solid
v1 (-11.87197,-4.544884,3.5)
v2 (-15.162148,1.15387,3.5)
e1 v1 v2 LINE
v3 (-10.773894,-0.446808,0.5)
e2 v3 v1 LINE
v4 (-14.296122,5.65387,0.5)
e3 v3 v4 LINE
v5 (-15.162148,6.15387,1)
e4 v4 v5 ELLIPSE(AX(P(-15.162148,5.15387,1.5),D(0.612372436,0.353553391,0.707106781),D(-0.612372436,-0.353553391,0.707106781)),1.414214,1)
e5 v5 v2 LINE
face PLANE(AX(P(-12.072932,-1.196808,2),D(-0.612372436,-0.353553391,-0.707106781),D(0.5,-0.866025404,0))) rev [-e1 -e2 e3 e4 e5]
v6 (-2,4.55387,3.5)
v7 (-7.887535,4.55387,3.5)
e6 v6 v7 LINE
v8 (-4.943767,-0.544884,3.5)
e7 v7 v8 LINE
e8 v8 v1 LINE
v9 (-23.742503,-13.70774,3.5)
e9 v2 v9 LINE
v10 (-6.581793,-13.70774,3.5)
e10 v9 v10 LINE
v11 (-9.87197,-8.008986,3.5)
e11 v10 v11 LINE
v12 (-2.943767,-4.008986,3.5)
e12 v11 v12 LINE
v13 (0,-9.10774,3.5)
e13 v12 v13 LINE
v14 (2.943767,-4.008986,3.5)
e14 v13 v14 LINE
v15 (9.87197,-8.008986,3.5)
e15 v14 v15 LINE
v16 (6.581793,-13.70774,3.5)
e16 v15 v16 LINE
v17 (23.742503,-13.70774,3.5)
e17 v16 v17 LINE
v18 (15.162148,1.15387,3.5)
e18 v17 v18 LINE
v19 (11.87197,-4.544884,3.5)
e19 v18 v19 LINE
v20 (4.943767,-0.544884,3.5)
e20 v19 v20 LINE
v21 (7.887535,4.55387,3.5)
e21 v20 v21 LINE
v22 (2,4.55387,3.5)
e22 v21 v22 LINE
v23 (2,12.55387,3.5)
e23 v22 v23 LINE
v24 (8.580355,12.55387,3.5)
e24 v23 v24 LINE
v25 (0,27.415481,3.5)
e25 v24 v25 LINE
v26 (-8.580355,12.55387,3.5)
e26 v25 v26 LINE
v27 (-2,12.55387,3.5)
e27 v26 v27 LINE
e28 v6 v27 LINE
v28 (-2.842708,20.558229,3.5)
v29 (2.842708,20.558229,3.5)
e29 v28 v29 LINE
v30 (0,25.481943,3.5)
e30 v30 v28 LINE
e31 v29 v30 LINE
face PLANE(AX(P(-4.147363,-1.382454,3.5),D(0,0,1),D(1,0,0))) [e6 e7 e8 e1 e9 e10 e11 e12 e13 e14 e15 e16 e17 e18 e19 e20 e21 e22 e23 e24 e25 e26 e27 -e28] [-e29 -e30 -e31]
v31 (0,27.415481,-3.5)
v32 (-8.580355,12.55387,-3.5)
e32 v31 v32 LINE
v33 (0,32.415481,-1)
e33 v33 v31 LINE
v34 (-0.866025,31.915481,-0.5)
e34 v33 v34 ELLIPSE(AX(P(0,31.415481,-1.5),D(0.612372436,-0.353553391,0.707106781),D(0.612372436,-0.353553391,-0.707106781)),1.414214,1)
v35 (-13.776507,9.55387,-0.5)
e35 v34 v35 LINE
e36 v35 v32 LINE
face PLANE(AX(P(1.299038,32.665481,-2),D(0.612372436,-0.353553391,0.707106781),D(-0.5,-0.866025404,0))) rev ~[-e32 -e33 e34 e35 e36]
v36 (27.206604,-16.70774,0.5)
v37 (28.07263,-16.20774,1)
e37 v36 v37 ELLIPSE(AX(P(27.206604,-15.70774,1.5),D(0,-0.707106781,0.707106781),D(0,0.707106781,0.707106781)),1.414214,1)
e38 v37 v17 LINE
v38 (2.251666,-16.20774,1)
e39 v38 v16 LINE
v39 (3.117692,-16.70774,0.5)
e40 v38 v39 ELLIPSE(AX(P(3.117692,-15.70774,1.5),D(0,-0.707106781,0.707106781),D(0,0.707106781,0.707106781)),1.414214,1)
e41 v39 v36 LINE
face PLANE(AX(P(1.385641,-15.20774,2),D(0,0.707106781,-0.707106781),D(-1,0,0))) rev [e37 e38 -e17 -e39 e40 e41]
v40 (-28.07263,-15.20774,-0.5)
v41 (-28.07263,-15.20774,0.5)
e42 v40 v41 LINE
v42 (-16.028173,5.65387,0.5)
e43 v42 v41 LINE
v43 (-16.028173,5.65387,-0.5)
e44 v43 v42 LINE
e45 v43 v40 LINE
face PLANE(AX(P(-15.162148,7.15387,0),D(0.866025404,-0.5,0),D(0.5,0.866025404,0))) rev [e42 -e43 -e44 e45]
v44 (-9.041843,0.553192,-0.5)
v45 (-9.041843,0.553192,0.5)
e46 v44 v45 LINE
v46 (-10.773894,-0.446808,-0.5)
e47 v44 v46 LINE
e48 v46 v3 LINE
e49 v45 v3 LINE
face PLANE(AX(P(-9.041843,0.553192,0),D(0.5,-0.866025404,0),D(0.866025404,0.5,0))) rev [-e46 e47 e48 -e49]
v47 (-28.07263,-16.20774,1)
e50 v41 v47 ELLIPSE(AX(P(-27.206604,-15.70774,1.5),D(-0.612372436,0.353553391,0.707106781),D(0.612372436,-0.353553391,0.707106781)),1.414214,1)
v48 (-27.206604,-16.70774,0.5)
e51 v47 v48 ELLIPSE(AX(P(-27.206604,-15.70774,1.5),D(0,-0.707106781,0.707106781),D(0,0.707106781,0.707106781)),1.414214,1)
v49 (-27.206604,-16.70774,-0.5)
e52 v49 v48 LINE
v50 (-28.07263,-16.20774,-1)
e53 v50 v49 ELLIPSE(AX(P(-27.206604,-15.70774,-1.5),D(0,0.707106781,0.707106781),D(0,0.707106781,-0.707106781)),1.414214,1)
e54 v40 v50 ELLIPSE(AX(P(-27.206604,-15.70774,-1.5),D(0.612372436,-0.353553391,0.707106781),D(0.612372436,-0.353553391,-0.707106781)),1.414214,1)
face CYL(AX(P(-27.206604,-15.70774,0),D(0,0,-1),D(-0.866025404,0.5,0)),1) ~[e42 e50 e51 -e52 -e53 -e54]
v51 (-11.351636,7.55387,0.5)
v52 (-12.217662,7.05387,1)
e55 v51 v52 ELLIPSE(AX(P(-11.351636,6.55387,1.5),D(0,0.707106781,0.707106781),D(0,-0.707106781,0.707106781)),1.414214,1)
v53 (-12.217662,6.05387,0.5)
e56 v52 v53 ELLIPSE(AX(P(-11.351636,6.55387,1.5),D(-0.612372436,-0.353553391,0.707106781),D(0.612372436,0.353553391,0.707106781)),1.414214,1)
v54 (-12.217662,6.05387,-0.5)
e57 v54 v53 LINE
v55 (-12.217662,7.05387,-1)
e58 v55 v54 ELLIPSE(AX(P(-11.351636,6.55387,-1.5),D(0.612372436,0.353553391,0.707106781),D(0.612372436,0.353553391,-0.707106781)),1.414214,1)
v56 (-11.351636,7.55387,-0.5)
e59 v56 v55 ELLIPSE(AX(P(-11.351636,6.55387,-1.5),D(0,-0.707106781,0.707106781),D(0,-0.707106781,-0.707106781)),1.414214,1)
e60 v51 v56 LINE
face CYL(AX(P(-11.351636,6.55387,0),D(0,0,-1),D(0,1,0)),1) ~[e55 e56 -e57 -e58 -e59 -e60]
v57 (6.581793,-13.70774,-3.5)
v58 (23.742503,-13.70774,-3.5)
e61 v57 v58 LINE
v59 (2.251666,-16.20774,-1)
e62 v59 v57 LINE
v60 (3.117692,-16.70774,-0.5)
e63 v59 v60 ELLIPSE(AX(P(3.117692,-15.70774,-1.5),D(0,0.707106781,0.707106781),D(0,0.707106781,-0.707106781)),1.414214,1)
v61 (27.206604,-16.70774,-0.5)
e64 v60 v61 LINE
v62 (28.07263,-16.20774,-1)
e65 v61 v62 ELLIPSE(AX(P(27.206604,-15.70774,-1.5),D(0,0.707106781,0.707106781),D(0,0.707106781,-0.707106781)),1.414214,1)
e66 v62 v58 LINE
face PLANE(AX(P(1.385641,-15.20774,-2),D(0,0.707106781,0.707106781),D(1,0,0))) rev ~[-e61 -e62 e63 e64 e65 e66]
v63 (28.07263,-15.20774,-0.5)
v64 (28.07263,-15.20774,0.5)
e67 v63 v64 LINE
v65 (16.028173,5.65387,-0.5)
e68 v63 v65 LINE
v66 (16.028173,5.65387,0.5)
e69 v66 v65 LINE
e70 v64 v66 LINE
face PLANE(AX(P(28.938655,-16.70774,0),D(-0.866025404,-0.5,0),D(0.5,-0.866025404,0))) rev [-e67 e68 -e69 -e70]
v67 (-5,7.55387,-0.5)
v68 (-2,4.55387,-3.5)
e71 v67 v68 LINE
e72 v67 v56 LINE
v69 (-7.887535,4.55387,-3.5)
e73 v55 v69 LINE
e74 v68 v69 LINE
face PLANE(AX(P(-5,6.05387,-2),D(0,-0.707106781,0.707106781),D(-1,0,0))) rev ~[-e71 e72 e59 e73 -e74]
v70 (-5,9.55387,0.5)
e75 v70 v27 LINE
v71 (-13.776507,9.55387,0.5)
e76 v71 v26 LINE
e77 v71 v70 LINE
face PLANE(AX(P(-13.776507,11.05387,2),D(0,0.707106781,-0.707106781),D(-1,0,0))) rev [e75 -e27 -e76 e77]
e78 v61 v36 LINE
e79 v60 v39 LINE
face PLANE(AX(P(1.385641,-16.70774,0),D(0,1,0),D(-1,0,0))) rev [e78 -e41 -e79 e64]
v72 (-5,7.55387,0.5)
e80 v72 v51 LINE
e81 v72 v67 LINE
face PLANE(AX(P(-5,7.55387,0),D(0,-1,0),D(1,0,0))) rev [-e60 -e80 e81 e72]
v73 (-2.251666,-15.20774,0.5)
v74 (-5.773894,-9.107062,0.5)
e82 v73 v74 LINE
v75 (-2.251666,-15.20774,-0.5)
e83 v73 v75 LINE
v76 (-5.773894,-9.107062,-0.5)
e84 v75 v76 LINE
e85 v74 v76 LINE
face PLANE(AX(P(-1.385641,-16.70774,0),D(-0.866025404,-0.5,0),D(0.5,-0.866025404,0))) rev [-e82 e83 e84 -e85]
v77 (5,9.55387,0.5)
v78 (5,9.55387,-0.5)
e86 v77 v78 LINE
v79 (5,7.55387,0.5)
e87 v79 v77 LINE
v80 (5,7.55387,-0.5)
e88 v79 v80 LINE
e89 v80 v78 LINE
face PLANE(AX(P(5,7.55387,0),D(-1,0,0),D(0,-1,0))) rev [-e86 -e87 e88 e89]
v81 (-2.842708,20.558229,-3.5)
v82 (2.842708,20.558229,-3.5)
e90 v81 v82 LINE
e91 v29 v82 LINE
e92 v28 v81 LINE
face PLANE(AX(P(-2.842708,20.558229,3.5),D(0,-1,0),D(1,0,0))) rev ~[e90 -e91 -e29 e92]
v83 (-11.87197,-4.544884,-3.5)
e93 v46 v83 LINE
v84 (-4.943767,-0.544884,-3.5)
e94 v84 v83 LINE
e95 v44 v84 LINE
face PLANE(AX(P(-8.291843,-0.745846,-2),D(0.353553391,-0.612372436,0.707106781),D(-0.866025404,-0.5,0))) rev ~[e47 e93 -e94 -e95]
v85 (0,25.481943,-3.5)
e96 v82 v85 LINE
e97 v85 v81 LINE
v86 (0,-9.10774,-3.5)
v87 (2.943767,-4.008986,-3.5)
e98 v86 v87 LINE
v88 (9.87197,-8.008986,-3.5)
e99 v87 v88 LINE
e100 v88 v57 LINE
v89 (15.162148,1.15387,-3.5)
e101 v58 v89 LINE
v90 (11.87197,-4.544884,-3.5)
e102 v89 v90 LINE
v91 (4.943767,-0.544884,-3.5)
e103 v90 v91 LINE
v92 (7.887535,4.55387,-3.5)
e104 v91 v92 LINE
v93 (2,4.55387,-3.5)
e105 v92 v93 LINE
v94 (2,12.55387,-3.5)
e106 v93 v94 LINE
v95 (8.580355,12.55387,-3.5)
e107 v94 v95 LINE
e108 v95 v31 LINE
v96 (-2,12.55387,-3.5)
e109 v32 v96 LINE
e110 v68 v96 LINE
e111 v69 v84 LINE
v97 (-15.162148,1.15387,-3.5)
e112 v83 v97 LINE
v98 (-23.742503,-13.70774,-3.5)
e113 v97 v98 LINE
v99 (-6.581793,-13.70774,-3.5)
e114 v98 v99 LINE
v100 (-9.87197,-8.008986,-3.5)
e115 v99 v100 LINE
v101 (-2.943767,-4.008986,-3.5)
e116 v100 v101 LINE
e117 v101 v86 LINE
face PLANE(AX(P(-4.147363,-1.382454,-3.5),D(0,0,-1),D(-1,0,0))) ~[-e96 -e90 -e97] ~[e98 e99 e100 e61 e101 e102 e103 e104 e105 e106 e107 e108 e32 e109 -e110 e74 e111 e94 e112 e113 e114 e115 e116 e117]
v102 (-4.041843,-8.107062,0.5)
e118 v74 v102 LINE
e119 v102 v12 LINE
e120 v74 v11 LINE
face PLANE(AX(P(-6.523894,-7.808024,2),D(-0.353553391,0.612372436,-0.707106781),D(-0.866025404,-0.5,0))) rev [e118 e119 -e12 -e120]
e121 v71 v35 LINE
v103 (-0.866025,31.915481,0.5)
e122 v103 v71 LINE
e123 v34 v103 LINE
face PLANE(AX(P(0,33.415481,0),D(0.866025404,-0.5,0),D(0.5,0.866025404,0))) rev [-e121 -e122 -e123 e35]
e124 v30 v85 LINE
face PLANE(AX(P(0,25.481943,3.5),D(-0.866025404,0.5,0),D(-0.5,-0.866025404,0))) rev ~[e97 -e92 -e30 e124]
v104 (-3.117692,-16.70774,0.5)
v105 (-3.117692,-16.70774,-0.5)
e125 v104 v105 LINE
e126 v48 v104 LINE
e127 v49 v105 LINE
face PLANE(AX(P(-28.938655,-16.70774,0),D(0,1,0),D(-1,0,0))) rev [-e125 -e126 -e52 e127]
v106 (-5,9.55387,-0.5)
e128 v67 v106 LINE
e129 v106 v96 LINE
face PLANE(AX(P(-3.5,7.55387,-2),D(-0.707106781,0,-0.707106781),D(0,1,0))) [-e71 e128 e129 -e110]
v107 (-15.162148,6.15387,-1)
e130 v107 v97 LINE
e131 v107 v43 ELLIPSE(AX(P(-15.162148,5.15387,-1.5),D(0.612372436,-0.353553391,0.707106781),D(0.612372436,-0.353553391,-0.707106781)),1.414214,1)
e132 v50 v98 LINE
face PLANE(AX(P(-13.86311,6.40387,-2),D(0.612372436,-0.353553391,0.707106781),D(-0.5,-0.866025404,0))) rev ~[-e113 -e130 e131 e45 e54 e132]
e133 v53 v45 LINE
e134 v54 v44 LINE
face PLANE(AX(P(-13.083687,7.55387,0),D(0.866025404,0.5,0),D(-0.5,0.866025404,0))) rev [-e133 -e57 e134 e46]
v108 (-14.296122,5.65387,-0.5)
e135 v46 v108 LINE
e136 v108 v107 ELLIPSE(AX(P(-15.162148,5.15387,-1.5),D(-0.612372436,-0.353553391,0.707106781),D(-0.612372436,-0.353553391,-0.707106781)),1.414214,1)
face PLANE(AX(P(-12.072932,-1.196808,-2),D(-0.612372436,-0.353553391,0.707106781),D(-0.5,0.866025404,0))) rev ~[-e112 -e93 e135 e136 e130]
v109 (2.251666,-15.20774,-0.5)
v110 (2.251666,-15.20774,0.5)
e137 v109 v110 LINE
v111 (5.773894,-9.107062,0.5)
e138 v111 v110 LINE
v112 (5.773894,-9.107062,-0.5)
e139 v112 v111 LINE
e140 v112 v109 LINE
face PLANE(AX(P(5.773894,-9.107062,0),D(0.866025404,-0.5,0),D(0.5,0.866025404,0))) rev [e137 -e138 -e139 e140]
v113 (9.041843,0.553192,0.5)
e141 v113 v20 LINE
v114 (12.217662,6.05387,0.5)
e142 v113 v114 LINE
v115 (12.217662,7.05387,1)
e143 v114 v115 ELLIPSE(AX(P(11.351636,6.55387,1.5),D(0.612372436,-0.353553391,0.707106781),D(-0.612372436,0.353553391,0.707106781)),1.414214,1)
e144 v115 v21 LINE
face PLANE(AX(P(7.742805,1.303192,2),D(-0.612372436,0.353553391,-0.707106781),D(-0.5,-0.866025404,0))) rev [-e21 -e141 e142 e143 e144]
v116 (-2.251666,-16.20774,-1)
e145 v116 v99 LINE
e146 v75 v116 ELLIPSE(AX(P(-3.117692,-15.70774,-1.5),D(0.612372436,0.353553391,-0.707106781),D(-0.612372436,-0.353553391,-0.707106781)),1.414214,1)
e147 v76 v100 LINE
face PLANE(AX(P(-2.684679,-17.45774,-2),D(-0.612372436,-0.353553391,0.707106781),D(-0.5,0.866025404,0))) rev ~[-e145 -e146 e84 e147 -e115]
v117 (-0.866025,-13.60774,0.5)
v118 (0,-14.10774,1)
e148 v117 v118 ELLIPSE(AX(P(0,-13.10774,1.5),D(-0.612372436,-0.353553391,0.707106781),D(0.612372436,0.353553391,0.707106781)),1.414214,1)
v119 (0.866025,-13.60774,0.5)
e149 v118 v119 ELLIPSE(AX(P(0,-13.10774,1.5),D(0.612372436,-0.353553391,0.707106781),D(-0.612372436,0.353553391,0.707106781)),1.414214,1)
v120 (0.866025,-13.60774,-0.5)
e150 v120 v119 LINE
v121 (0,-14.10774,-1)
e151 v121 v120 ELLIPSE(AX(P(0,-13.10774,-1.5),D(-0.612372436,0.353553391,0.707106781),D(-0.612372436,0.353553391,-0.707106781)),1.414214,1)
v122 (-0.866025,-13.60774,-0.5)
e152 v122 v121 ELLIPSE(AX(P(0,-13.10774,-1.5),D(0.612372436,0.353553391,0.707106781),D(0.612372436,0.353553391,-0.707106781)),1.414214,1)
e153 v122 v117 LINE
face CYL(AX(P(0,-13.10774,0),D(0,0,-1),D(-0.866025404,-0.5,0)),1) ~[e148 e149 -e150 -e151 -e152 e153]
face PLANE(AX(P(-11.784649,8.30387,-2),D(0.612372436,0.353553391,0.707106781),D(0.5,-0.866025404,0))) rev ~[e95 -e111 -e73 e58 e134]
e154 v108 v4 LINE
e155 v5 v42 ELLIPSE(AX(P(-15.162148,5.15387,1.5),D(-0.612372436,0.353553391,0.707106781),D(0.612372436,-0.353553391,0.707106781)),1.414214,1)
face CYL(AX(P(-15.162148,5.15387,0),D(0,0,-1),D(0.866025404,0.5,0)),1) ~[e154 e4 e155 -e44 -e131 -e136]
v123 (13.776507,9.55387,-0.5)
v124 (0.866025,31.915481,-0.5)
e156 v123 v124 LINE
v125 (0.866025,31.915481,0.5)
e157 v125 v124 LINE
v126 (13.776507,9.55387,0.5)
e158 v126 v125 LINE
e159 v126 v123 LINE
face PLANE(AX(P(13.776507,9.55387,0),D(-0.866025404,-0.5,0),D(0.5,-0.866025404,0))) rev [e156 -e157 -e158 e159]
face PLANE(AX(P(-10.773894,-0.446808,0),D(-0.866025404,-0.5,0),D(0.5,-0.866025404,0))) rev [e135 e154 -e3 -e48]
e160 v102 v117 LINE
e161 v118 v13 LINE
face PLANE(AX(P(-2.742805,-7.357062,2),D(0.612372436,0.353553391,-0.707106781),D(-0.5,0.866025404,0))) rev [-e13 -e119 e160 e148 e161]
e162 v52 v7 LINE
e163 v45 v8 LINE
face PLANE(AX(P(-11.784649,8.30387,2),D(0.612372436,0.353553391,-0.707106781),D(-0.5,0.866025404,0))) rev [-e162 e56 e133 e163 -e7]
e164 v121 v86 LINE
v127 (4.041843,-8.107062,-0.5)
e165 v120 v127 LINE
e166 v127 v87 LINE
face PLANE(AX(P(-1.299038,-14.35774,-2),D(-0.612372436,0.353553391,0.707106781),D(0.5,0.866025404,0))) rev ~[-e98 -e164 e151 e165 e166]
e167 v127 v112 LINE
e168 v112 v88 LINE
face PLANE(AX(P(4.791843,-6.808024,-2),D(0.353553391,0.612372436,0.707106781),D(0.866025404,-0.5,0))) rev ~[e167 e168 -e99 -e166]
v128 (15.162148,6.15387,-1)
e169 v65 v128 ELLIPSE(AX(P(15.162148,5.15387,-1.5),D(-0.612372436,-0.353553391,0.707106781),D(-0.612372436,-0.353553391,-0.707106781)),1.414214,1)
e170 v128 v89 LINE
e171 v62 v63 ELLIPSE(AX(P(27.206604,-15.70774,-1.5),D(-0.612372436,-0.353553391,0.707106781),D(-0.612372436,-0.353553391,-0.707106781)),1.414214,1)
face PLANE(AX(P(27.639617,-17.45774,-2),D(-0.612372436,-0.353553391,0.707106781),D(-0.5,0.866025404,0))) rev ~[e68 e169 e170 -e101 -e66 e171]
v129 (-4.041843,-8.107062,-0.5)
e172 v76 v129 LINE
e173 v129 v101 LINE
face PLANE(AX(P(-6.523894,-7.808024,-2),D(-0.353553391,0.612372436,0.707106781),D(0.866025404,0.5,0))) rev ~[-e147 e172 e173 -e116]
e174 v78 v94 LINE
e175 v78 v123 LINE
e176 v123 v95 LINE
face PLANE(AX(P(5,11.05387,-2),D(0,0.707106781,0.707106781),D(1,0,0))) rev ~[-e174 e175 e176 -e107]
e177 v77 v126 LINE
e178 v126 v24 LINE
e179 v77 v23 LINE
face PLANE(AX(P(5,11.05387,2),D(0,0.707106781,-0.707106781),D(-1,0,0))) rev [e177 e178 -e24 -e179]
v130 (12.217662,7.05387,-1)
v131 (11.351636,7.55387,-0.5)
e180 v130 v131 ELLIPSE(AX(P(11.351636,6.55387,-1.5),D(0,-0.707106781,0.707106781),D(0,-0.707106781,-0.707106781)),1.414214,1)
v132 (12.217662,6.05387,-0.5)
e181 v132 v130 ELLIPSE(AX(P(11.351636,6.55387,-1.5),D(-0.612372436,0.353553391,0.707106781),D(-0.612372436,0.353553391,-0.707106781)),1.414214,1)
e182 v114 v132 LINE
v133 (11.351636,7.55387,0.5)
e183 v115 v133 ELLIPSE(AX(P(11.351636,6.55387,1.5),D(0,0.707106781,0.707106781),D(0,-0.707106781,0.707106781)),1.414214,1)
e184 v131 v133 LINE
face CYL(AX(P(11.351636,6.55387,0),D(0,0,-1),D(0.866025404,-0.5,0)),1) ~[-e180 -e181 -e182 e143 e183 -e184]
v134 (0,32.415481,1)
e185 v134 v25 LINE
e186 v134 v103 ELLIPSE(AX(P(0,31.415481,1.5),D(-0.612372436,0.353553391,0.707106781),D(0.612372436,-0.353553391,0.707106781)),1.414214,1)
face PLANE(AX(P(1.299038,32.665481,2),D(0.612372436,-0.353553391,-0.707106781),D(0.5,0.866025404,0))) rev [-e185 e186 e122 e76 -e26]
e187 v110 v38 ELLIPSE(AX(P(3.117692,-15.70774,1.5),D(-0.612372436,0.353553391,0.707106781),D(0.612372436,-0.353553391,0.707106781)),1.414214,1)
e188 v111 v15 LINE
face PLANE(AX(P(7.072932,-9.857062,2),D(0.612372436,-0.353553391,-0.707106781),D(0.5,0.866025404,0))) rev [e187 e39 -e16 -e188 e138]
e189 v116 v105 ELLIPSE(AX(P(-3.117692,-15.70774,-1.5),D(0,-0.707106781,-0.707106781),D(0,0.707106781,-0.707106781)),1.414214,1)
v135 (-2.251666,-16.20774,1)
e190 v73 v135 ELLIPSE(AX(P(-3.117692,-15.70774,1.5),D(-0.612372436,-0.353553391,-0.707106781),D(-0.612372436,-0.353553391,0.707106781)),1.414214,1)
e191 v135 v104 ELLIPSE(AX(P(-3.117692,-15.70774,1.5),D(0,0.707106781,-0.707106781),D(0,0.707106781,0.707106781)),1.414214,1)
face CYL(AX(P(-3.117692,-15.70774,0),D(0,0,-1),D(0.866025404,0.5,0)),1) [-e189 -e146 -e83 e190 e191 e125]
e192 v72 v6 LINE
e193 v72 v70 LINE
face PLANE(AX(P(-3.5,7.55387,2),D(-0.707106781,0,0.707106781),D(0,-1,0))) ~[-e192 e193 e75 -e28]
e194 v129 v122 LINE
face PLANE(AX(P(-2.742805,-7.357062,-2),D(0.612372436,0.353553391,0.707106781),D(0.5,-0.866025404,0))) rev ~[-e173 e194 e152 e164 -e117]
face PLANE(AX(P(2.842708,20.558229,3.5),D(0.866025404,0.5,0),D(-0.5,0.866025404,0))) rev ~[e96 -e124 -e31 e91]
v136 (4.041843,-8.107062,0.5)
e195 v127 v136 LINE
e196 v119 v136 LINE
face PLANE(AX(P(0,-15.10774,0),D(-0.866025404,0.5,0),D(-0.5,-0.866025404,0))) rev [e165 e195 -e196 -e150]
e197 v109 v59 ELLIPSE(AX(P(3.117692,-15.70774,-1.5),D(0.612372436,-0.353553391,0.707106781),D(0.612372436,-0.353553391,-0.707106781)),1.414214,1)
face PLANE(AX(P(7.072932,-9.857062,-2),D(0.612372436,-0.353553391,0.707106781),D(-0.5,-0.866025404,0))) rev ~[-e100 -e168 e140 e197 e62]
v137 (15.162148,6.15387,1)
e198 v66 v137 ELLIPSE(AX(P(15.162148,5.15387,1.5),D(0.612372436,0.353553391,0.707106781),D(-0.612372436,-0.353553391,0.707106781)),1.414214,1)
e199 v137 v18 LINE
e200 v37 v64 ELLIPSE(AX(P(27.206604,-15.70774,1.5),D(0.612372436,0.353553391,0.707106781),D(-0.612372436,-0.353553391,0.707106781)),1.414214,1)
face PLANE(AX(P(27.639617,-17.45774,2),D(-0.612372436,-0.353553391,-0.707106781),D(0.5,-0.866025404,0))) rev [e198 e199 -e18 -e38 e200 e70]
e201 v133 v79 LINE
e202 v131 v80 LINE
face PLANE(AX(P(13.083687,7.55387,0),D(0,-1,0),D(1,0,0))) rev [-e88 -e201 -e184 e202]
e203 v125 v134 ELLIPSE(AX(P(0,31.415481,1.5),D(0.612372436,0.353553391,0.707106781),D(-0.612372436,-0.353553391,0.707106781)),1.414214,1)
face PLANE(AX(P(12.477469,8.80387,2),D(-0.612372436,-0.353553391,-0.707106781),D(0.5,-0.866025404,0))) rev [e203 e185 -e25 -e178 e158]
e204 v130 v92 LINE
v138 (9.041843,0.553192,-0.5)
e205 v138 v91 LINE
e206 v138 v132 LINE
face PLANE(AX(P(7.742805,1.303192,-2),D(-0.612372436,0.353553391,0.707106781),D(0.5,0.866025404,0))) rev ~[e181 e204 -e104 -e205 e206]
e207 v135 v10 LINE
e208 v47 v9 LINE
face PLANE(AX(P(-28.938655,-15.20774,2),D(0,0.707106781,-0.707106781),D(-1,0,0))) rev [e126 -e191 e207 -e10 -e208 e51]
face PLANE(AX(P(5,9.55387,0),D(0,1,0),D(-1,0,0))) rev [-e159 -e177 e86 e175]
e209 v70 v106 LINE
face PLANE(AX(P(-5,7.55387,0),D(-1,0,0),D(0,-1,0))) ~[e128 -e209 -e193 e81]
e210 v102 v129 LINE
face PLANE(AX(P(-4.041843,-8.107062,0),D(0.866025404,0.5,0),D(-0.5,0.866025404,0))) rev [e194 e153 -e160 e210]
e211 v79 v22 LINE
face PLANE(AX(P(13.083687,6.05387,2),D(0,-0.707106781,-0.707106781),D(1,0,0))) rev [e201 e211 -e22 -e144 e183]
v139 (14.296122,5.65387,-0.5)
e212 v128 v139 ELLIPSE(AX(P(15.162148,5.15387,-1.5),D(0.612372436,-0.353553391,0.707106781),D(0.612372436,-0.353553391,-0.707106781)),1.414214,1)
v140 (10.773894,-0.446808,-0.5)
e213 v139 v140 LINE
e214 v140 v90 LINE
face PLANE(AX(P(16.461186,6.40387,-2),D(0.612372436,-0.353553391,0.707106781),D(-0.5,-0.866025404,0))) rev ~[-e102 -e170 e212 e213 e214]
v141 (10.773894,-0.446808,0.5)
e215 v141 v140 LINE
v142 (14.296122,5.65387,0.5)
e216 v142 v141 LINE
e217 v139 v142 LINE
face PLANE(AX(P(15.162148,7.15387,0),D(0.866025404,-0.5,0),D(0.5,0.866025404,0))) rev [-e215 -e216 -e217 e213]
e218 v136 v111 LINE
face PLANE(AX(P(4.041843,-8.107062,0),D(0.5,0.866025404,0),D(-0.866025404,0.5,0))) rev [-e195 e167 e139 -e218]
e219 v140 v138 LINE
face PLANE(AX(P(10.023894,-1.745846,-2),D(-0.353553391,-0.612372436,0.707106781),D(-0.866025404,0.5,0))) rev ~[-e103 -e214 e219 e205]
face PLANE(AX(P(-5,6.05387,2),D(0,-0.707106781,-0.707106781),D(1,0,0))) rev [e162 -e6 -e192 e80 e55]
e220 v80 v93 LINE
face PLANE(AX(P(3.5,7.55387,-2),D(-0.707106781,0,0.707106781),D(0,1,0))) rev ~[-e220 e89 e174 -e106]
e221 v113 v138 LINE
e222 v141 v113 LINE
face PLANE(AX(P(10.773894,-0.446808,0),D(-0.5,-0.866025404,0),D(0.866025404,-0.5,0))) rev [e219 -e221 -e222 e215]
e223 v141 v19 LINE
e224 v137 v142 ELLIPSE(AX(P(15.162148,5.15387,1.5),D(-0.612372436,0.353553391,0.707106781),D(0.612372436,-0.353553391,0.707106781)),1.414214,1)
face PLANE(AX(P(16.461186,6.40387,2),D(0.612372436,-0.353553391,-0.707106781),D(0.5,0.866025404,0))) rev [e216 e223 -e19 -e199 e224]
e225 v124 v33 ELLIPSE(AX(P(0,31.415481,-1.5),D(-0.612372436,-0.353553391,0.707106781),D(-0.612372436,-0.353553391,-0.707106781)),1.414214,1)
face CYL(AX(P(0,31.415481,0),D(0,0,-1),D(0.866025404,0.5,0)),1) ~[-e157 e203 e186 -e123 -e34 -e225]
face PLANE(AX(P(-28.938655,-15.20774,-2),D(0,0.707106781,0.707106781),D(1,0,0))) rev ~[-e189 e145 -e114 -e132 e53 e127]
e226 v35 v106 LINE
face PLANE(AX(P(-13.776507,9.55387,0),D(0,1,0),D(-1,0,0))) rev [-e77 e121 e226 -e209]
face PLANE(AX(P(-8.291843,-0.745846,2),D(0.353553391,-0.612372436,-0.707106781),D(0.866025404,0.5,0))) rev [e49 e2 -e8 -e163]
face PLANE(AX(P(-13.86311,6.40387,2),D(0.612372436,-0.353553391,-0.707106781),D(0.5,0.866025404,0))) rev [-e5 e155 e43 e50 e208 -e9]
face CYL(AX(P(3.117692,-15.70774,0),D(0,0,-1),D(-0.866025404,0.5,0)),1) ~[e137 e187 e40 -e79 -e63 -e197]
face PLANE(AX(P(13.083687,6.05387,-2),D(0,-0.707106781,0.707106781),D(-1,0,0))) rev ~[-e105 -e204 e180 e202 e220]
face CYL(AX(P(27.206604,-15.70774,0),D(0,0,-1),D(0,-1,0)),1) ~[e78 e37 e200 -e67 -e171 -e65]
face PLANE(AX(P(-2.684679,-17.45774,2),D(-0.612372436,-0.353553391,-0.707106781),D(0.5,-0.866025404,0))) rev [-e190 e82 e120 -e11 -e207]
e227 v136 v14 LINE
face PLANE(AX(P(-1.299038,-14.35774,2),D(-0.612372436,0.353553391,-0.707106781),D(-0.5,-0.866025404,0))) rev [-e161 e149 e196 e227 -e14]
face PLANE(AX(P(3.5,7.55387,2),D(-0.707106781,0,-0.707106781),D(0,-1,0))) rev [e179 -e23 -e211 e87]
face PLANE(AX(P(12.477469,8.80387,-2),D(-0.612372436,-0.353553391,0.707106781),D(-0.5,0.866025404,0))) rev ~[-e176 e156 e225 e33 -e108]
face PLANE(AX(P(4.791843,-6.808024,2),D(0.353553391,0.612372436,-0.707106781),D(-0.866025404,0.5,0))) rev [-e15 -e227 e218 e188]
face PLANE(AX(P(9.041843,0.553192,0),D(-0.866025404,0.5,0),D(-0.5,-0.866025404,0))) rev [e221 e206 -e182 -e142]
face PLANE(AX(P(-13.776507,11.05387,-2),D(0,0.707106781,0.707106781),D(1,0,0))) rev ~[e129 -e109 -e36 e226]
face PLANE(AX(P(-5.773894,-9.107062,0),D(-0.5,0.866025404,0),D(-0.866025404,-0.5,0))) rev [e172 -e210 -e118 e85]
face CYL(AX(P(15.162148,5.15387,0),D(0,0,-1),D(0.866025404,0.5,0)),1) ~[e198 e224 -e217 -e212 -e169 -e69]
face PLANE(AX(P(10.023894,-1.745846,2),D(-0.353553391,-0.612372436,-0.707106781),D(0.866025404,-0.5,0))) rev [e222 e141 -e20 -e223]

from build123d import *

# Parameters (mm, degrees)
F0_W     = 5
F0_H     = 2
F1_DEPTH = 3.5
F2_SIZE  = 3
F3_R     = 1
F6_DEPTH = 9.2


with BuildPart() as f1:
    # F0 (on Top) → F1 (new body)
    with BuildSketch(Plane.XY):
        Polygon((-4.0418434781, -8.107062112), (0, -15.1077403724), (0, 7.5538701862), (-5, 7.5538701862), (-13.0836869563, 7.5538701862), (-9.0418434781, 0.5531919258), (-6.5418434781, -3.7769350931), align=None)
        Polygon((0, 7.5538701862), (0, -15.1077403724), (4.0418434781, -8.107062112), (6.5418434781, -3.7769350931), (9.0418434781, 0.5531919258), (13.0836869563, 7.5538701862), (5, 7.5538701862), align=None)
        Polygon((-10.7738942857, -0.4468080742), (-8.2738942857, -4.7769350931), (-6.5418434781, -3.7769350931), (-9.0418434781, 0.5531919258), align=None)
        Polygon((-8.2738942857, -4.7769350931), (-5.7738942857, -9.107062112), (-4.0418434781, -8.107062112), (-6.5418434781, -3.7769350931), align=None)
        Polygon((8.2738942857, -4.7769350931), (10.7738942857, -0.4468080742), (9.0418434781, 0.5531919258), (6.5418434781, -3.7769350931), align=None)
        Polygon((4.0418434781, -8.107062112), (5.7738942857, -9.107062112), (8.2738942857, -4.7769350931), (6.5418434781, -3.7769350931), align=None)
        with Locations((2.5, 8.5538701862)):
            Rectangle(F0_W, F0_H)
        with Locations((-2.5, 8.5538701862)):
            Rectangle(F0_W, F0_H)
        Polygon((-28.9386550611, -16.7077402895), (-1.3856406939, -16.7077402895), (-5.7738942857, -9.107062112), (-8.2738942857, -4.7769350931), (-10.7738942857, -0.4468080742), (-15.1621478775, 7.1538701033), align=None)
        Polygon((5.7738942857, -9.107062112), (1.3856406939, -16.7077402895), (28.9386550611, -16.7077402895), (15.1621478775, 7.1538701033), (10.7738942857, -0.4468080742), (8.2738942857, -4.7769350931), align=None)
        Polygon((5, 9.5538701862), (13.7765071836, 9.5538701862), (0, 33.415480579), (0, 9.5538701862), align=None)
        Polygon((0, 9.5538701862), (0, 33.415480579), (-13.7765071836, 9.5538701862), (-5, 9.5538701862), align=None)
    extrude(amount=F1_DEPTH)

    # F2
    f2_edges = [f1.edges().sort_by_distance(p)[0] for p in [
        (-11.062765, 4.053531, 3.5),
        (-9.907869, 0.053192, 3.5),
        (-12.968021, 3.353531, 3.5),
        (-22.050401, -4.776935, 3.5),
        (-15.162148, -16.70774, 3.5),
        (-3.579767, -12.907401, 3.5),
        (-4.907869, -8.607062, 3.5),
        (-2.020922, -11.607401, 3.5),
        (2.020922, -11.607401, 3.5),
        (4.907869, -8.607062, 3.5),
        (3.579767, -12.907401, 3.5),
        (15.162148, -16.70774, 3.5),
        (22.050401, -4.776935, 3.5),
        (12.968021, 3.353531, 3.5),
        (9.907869, 0.053192, 3.5),
        (11.062765, 4.053531, 3.5),
        (9.041843, 7.55387, 3.5),
        (5, 8.55387, 3.5),
        (9.388254, 9.55387, 3.5),
        (6.888254, 21.484675, 3.5),
        (-6.888254, 21.484675, 3.5),
        (-9.388254, 9.55387, 3.5),
        (-5, 8.55387, 3.5),
        (-9.041843, 7.55387, 3.5),
    ]]
    chamfer(f2_edges, length=F2_SIZE)

    # F3
    f3_edges = [f1.edges().sort_by_distance(p)[0] for p in [
        (-28.938655, -16.70774, 0.25),
        (28.938655, -16.70774, 0.25),
        (0, 33.415481, 0.25),
        (-15.162148, 7.15387, 0.25),
        (15.162148, 7.15387, 0.25),
        (-1.385641, -16.70774, 0.25),
        (1.385641, -16.70774, 0.25),
        (-13.083687, 7.55387, 0.25),
        (13.083687, 7.55387, 0.25),
        (0, -15.10774, 0.25),
    ]]
    fillet(f3_edges, radius=F3_R)

    # F4: F1 across plane


with BuildPart() as f1_1:
    add(f1.part)
    add(f1.part.mirror(Plane.XY))

    # F5 (on face) → F6 (cut)
    with BuildSketch(Plane.XY.offset(3.5)):
        Polygon((-2.8427077909, 20.5582287163), (2.8427077909, 20.5582287163), (0, 25.4819430411), align=None)
    extrude(amount=-F6_DEPTH, mode=Mode.SUBTRACT)


solid = f1_1.part
